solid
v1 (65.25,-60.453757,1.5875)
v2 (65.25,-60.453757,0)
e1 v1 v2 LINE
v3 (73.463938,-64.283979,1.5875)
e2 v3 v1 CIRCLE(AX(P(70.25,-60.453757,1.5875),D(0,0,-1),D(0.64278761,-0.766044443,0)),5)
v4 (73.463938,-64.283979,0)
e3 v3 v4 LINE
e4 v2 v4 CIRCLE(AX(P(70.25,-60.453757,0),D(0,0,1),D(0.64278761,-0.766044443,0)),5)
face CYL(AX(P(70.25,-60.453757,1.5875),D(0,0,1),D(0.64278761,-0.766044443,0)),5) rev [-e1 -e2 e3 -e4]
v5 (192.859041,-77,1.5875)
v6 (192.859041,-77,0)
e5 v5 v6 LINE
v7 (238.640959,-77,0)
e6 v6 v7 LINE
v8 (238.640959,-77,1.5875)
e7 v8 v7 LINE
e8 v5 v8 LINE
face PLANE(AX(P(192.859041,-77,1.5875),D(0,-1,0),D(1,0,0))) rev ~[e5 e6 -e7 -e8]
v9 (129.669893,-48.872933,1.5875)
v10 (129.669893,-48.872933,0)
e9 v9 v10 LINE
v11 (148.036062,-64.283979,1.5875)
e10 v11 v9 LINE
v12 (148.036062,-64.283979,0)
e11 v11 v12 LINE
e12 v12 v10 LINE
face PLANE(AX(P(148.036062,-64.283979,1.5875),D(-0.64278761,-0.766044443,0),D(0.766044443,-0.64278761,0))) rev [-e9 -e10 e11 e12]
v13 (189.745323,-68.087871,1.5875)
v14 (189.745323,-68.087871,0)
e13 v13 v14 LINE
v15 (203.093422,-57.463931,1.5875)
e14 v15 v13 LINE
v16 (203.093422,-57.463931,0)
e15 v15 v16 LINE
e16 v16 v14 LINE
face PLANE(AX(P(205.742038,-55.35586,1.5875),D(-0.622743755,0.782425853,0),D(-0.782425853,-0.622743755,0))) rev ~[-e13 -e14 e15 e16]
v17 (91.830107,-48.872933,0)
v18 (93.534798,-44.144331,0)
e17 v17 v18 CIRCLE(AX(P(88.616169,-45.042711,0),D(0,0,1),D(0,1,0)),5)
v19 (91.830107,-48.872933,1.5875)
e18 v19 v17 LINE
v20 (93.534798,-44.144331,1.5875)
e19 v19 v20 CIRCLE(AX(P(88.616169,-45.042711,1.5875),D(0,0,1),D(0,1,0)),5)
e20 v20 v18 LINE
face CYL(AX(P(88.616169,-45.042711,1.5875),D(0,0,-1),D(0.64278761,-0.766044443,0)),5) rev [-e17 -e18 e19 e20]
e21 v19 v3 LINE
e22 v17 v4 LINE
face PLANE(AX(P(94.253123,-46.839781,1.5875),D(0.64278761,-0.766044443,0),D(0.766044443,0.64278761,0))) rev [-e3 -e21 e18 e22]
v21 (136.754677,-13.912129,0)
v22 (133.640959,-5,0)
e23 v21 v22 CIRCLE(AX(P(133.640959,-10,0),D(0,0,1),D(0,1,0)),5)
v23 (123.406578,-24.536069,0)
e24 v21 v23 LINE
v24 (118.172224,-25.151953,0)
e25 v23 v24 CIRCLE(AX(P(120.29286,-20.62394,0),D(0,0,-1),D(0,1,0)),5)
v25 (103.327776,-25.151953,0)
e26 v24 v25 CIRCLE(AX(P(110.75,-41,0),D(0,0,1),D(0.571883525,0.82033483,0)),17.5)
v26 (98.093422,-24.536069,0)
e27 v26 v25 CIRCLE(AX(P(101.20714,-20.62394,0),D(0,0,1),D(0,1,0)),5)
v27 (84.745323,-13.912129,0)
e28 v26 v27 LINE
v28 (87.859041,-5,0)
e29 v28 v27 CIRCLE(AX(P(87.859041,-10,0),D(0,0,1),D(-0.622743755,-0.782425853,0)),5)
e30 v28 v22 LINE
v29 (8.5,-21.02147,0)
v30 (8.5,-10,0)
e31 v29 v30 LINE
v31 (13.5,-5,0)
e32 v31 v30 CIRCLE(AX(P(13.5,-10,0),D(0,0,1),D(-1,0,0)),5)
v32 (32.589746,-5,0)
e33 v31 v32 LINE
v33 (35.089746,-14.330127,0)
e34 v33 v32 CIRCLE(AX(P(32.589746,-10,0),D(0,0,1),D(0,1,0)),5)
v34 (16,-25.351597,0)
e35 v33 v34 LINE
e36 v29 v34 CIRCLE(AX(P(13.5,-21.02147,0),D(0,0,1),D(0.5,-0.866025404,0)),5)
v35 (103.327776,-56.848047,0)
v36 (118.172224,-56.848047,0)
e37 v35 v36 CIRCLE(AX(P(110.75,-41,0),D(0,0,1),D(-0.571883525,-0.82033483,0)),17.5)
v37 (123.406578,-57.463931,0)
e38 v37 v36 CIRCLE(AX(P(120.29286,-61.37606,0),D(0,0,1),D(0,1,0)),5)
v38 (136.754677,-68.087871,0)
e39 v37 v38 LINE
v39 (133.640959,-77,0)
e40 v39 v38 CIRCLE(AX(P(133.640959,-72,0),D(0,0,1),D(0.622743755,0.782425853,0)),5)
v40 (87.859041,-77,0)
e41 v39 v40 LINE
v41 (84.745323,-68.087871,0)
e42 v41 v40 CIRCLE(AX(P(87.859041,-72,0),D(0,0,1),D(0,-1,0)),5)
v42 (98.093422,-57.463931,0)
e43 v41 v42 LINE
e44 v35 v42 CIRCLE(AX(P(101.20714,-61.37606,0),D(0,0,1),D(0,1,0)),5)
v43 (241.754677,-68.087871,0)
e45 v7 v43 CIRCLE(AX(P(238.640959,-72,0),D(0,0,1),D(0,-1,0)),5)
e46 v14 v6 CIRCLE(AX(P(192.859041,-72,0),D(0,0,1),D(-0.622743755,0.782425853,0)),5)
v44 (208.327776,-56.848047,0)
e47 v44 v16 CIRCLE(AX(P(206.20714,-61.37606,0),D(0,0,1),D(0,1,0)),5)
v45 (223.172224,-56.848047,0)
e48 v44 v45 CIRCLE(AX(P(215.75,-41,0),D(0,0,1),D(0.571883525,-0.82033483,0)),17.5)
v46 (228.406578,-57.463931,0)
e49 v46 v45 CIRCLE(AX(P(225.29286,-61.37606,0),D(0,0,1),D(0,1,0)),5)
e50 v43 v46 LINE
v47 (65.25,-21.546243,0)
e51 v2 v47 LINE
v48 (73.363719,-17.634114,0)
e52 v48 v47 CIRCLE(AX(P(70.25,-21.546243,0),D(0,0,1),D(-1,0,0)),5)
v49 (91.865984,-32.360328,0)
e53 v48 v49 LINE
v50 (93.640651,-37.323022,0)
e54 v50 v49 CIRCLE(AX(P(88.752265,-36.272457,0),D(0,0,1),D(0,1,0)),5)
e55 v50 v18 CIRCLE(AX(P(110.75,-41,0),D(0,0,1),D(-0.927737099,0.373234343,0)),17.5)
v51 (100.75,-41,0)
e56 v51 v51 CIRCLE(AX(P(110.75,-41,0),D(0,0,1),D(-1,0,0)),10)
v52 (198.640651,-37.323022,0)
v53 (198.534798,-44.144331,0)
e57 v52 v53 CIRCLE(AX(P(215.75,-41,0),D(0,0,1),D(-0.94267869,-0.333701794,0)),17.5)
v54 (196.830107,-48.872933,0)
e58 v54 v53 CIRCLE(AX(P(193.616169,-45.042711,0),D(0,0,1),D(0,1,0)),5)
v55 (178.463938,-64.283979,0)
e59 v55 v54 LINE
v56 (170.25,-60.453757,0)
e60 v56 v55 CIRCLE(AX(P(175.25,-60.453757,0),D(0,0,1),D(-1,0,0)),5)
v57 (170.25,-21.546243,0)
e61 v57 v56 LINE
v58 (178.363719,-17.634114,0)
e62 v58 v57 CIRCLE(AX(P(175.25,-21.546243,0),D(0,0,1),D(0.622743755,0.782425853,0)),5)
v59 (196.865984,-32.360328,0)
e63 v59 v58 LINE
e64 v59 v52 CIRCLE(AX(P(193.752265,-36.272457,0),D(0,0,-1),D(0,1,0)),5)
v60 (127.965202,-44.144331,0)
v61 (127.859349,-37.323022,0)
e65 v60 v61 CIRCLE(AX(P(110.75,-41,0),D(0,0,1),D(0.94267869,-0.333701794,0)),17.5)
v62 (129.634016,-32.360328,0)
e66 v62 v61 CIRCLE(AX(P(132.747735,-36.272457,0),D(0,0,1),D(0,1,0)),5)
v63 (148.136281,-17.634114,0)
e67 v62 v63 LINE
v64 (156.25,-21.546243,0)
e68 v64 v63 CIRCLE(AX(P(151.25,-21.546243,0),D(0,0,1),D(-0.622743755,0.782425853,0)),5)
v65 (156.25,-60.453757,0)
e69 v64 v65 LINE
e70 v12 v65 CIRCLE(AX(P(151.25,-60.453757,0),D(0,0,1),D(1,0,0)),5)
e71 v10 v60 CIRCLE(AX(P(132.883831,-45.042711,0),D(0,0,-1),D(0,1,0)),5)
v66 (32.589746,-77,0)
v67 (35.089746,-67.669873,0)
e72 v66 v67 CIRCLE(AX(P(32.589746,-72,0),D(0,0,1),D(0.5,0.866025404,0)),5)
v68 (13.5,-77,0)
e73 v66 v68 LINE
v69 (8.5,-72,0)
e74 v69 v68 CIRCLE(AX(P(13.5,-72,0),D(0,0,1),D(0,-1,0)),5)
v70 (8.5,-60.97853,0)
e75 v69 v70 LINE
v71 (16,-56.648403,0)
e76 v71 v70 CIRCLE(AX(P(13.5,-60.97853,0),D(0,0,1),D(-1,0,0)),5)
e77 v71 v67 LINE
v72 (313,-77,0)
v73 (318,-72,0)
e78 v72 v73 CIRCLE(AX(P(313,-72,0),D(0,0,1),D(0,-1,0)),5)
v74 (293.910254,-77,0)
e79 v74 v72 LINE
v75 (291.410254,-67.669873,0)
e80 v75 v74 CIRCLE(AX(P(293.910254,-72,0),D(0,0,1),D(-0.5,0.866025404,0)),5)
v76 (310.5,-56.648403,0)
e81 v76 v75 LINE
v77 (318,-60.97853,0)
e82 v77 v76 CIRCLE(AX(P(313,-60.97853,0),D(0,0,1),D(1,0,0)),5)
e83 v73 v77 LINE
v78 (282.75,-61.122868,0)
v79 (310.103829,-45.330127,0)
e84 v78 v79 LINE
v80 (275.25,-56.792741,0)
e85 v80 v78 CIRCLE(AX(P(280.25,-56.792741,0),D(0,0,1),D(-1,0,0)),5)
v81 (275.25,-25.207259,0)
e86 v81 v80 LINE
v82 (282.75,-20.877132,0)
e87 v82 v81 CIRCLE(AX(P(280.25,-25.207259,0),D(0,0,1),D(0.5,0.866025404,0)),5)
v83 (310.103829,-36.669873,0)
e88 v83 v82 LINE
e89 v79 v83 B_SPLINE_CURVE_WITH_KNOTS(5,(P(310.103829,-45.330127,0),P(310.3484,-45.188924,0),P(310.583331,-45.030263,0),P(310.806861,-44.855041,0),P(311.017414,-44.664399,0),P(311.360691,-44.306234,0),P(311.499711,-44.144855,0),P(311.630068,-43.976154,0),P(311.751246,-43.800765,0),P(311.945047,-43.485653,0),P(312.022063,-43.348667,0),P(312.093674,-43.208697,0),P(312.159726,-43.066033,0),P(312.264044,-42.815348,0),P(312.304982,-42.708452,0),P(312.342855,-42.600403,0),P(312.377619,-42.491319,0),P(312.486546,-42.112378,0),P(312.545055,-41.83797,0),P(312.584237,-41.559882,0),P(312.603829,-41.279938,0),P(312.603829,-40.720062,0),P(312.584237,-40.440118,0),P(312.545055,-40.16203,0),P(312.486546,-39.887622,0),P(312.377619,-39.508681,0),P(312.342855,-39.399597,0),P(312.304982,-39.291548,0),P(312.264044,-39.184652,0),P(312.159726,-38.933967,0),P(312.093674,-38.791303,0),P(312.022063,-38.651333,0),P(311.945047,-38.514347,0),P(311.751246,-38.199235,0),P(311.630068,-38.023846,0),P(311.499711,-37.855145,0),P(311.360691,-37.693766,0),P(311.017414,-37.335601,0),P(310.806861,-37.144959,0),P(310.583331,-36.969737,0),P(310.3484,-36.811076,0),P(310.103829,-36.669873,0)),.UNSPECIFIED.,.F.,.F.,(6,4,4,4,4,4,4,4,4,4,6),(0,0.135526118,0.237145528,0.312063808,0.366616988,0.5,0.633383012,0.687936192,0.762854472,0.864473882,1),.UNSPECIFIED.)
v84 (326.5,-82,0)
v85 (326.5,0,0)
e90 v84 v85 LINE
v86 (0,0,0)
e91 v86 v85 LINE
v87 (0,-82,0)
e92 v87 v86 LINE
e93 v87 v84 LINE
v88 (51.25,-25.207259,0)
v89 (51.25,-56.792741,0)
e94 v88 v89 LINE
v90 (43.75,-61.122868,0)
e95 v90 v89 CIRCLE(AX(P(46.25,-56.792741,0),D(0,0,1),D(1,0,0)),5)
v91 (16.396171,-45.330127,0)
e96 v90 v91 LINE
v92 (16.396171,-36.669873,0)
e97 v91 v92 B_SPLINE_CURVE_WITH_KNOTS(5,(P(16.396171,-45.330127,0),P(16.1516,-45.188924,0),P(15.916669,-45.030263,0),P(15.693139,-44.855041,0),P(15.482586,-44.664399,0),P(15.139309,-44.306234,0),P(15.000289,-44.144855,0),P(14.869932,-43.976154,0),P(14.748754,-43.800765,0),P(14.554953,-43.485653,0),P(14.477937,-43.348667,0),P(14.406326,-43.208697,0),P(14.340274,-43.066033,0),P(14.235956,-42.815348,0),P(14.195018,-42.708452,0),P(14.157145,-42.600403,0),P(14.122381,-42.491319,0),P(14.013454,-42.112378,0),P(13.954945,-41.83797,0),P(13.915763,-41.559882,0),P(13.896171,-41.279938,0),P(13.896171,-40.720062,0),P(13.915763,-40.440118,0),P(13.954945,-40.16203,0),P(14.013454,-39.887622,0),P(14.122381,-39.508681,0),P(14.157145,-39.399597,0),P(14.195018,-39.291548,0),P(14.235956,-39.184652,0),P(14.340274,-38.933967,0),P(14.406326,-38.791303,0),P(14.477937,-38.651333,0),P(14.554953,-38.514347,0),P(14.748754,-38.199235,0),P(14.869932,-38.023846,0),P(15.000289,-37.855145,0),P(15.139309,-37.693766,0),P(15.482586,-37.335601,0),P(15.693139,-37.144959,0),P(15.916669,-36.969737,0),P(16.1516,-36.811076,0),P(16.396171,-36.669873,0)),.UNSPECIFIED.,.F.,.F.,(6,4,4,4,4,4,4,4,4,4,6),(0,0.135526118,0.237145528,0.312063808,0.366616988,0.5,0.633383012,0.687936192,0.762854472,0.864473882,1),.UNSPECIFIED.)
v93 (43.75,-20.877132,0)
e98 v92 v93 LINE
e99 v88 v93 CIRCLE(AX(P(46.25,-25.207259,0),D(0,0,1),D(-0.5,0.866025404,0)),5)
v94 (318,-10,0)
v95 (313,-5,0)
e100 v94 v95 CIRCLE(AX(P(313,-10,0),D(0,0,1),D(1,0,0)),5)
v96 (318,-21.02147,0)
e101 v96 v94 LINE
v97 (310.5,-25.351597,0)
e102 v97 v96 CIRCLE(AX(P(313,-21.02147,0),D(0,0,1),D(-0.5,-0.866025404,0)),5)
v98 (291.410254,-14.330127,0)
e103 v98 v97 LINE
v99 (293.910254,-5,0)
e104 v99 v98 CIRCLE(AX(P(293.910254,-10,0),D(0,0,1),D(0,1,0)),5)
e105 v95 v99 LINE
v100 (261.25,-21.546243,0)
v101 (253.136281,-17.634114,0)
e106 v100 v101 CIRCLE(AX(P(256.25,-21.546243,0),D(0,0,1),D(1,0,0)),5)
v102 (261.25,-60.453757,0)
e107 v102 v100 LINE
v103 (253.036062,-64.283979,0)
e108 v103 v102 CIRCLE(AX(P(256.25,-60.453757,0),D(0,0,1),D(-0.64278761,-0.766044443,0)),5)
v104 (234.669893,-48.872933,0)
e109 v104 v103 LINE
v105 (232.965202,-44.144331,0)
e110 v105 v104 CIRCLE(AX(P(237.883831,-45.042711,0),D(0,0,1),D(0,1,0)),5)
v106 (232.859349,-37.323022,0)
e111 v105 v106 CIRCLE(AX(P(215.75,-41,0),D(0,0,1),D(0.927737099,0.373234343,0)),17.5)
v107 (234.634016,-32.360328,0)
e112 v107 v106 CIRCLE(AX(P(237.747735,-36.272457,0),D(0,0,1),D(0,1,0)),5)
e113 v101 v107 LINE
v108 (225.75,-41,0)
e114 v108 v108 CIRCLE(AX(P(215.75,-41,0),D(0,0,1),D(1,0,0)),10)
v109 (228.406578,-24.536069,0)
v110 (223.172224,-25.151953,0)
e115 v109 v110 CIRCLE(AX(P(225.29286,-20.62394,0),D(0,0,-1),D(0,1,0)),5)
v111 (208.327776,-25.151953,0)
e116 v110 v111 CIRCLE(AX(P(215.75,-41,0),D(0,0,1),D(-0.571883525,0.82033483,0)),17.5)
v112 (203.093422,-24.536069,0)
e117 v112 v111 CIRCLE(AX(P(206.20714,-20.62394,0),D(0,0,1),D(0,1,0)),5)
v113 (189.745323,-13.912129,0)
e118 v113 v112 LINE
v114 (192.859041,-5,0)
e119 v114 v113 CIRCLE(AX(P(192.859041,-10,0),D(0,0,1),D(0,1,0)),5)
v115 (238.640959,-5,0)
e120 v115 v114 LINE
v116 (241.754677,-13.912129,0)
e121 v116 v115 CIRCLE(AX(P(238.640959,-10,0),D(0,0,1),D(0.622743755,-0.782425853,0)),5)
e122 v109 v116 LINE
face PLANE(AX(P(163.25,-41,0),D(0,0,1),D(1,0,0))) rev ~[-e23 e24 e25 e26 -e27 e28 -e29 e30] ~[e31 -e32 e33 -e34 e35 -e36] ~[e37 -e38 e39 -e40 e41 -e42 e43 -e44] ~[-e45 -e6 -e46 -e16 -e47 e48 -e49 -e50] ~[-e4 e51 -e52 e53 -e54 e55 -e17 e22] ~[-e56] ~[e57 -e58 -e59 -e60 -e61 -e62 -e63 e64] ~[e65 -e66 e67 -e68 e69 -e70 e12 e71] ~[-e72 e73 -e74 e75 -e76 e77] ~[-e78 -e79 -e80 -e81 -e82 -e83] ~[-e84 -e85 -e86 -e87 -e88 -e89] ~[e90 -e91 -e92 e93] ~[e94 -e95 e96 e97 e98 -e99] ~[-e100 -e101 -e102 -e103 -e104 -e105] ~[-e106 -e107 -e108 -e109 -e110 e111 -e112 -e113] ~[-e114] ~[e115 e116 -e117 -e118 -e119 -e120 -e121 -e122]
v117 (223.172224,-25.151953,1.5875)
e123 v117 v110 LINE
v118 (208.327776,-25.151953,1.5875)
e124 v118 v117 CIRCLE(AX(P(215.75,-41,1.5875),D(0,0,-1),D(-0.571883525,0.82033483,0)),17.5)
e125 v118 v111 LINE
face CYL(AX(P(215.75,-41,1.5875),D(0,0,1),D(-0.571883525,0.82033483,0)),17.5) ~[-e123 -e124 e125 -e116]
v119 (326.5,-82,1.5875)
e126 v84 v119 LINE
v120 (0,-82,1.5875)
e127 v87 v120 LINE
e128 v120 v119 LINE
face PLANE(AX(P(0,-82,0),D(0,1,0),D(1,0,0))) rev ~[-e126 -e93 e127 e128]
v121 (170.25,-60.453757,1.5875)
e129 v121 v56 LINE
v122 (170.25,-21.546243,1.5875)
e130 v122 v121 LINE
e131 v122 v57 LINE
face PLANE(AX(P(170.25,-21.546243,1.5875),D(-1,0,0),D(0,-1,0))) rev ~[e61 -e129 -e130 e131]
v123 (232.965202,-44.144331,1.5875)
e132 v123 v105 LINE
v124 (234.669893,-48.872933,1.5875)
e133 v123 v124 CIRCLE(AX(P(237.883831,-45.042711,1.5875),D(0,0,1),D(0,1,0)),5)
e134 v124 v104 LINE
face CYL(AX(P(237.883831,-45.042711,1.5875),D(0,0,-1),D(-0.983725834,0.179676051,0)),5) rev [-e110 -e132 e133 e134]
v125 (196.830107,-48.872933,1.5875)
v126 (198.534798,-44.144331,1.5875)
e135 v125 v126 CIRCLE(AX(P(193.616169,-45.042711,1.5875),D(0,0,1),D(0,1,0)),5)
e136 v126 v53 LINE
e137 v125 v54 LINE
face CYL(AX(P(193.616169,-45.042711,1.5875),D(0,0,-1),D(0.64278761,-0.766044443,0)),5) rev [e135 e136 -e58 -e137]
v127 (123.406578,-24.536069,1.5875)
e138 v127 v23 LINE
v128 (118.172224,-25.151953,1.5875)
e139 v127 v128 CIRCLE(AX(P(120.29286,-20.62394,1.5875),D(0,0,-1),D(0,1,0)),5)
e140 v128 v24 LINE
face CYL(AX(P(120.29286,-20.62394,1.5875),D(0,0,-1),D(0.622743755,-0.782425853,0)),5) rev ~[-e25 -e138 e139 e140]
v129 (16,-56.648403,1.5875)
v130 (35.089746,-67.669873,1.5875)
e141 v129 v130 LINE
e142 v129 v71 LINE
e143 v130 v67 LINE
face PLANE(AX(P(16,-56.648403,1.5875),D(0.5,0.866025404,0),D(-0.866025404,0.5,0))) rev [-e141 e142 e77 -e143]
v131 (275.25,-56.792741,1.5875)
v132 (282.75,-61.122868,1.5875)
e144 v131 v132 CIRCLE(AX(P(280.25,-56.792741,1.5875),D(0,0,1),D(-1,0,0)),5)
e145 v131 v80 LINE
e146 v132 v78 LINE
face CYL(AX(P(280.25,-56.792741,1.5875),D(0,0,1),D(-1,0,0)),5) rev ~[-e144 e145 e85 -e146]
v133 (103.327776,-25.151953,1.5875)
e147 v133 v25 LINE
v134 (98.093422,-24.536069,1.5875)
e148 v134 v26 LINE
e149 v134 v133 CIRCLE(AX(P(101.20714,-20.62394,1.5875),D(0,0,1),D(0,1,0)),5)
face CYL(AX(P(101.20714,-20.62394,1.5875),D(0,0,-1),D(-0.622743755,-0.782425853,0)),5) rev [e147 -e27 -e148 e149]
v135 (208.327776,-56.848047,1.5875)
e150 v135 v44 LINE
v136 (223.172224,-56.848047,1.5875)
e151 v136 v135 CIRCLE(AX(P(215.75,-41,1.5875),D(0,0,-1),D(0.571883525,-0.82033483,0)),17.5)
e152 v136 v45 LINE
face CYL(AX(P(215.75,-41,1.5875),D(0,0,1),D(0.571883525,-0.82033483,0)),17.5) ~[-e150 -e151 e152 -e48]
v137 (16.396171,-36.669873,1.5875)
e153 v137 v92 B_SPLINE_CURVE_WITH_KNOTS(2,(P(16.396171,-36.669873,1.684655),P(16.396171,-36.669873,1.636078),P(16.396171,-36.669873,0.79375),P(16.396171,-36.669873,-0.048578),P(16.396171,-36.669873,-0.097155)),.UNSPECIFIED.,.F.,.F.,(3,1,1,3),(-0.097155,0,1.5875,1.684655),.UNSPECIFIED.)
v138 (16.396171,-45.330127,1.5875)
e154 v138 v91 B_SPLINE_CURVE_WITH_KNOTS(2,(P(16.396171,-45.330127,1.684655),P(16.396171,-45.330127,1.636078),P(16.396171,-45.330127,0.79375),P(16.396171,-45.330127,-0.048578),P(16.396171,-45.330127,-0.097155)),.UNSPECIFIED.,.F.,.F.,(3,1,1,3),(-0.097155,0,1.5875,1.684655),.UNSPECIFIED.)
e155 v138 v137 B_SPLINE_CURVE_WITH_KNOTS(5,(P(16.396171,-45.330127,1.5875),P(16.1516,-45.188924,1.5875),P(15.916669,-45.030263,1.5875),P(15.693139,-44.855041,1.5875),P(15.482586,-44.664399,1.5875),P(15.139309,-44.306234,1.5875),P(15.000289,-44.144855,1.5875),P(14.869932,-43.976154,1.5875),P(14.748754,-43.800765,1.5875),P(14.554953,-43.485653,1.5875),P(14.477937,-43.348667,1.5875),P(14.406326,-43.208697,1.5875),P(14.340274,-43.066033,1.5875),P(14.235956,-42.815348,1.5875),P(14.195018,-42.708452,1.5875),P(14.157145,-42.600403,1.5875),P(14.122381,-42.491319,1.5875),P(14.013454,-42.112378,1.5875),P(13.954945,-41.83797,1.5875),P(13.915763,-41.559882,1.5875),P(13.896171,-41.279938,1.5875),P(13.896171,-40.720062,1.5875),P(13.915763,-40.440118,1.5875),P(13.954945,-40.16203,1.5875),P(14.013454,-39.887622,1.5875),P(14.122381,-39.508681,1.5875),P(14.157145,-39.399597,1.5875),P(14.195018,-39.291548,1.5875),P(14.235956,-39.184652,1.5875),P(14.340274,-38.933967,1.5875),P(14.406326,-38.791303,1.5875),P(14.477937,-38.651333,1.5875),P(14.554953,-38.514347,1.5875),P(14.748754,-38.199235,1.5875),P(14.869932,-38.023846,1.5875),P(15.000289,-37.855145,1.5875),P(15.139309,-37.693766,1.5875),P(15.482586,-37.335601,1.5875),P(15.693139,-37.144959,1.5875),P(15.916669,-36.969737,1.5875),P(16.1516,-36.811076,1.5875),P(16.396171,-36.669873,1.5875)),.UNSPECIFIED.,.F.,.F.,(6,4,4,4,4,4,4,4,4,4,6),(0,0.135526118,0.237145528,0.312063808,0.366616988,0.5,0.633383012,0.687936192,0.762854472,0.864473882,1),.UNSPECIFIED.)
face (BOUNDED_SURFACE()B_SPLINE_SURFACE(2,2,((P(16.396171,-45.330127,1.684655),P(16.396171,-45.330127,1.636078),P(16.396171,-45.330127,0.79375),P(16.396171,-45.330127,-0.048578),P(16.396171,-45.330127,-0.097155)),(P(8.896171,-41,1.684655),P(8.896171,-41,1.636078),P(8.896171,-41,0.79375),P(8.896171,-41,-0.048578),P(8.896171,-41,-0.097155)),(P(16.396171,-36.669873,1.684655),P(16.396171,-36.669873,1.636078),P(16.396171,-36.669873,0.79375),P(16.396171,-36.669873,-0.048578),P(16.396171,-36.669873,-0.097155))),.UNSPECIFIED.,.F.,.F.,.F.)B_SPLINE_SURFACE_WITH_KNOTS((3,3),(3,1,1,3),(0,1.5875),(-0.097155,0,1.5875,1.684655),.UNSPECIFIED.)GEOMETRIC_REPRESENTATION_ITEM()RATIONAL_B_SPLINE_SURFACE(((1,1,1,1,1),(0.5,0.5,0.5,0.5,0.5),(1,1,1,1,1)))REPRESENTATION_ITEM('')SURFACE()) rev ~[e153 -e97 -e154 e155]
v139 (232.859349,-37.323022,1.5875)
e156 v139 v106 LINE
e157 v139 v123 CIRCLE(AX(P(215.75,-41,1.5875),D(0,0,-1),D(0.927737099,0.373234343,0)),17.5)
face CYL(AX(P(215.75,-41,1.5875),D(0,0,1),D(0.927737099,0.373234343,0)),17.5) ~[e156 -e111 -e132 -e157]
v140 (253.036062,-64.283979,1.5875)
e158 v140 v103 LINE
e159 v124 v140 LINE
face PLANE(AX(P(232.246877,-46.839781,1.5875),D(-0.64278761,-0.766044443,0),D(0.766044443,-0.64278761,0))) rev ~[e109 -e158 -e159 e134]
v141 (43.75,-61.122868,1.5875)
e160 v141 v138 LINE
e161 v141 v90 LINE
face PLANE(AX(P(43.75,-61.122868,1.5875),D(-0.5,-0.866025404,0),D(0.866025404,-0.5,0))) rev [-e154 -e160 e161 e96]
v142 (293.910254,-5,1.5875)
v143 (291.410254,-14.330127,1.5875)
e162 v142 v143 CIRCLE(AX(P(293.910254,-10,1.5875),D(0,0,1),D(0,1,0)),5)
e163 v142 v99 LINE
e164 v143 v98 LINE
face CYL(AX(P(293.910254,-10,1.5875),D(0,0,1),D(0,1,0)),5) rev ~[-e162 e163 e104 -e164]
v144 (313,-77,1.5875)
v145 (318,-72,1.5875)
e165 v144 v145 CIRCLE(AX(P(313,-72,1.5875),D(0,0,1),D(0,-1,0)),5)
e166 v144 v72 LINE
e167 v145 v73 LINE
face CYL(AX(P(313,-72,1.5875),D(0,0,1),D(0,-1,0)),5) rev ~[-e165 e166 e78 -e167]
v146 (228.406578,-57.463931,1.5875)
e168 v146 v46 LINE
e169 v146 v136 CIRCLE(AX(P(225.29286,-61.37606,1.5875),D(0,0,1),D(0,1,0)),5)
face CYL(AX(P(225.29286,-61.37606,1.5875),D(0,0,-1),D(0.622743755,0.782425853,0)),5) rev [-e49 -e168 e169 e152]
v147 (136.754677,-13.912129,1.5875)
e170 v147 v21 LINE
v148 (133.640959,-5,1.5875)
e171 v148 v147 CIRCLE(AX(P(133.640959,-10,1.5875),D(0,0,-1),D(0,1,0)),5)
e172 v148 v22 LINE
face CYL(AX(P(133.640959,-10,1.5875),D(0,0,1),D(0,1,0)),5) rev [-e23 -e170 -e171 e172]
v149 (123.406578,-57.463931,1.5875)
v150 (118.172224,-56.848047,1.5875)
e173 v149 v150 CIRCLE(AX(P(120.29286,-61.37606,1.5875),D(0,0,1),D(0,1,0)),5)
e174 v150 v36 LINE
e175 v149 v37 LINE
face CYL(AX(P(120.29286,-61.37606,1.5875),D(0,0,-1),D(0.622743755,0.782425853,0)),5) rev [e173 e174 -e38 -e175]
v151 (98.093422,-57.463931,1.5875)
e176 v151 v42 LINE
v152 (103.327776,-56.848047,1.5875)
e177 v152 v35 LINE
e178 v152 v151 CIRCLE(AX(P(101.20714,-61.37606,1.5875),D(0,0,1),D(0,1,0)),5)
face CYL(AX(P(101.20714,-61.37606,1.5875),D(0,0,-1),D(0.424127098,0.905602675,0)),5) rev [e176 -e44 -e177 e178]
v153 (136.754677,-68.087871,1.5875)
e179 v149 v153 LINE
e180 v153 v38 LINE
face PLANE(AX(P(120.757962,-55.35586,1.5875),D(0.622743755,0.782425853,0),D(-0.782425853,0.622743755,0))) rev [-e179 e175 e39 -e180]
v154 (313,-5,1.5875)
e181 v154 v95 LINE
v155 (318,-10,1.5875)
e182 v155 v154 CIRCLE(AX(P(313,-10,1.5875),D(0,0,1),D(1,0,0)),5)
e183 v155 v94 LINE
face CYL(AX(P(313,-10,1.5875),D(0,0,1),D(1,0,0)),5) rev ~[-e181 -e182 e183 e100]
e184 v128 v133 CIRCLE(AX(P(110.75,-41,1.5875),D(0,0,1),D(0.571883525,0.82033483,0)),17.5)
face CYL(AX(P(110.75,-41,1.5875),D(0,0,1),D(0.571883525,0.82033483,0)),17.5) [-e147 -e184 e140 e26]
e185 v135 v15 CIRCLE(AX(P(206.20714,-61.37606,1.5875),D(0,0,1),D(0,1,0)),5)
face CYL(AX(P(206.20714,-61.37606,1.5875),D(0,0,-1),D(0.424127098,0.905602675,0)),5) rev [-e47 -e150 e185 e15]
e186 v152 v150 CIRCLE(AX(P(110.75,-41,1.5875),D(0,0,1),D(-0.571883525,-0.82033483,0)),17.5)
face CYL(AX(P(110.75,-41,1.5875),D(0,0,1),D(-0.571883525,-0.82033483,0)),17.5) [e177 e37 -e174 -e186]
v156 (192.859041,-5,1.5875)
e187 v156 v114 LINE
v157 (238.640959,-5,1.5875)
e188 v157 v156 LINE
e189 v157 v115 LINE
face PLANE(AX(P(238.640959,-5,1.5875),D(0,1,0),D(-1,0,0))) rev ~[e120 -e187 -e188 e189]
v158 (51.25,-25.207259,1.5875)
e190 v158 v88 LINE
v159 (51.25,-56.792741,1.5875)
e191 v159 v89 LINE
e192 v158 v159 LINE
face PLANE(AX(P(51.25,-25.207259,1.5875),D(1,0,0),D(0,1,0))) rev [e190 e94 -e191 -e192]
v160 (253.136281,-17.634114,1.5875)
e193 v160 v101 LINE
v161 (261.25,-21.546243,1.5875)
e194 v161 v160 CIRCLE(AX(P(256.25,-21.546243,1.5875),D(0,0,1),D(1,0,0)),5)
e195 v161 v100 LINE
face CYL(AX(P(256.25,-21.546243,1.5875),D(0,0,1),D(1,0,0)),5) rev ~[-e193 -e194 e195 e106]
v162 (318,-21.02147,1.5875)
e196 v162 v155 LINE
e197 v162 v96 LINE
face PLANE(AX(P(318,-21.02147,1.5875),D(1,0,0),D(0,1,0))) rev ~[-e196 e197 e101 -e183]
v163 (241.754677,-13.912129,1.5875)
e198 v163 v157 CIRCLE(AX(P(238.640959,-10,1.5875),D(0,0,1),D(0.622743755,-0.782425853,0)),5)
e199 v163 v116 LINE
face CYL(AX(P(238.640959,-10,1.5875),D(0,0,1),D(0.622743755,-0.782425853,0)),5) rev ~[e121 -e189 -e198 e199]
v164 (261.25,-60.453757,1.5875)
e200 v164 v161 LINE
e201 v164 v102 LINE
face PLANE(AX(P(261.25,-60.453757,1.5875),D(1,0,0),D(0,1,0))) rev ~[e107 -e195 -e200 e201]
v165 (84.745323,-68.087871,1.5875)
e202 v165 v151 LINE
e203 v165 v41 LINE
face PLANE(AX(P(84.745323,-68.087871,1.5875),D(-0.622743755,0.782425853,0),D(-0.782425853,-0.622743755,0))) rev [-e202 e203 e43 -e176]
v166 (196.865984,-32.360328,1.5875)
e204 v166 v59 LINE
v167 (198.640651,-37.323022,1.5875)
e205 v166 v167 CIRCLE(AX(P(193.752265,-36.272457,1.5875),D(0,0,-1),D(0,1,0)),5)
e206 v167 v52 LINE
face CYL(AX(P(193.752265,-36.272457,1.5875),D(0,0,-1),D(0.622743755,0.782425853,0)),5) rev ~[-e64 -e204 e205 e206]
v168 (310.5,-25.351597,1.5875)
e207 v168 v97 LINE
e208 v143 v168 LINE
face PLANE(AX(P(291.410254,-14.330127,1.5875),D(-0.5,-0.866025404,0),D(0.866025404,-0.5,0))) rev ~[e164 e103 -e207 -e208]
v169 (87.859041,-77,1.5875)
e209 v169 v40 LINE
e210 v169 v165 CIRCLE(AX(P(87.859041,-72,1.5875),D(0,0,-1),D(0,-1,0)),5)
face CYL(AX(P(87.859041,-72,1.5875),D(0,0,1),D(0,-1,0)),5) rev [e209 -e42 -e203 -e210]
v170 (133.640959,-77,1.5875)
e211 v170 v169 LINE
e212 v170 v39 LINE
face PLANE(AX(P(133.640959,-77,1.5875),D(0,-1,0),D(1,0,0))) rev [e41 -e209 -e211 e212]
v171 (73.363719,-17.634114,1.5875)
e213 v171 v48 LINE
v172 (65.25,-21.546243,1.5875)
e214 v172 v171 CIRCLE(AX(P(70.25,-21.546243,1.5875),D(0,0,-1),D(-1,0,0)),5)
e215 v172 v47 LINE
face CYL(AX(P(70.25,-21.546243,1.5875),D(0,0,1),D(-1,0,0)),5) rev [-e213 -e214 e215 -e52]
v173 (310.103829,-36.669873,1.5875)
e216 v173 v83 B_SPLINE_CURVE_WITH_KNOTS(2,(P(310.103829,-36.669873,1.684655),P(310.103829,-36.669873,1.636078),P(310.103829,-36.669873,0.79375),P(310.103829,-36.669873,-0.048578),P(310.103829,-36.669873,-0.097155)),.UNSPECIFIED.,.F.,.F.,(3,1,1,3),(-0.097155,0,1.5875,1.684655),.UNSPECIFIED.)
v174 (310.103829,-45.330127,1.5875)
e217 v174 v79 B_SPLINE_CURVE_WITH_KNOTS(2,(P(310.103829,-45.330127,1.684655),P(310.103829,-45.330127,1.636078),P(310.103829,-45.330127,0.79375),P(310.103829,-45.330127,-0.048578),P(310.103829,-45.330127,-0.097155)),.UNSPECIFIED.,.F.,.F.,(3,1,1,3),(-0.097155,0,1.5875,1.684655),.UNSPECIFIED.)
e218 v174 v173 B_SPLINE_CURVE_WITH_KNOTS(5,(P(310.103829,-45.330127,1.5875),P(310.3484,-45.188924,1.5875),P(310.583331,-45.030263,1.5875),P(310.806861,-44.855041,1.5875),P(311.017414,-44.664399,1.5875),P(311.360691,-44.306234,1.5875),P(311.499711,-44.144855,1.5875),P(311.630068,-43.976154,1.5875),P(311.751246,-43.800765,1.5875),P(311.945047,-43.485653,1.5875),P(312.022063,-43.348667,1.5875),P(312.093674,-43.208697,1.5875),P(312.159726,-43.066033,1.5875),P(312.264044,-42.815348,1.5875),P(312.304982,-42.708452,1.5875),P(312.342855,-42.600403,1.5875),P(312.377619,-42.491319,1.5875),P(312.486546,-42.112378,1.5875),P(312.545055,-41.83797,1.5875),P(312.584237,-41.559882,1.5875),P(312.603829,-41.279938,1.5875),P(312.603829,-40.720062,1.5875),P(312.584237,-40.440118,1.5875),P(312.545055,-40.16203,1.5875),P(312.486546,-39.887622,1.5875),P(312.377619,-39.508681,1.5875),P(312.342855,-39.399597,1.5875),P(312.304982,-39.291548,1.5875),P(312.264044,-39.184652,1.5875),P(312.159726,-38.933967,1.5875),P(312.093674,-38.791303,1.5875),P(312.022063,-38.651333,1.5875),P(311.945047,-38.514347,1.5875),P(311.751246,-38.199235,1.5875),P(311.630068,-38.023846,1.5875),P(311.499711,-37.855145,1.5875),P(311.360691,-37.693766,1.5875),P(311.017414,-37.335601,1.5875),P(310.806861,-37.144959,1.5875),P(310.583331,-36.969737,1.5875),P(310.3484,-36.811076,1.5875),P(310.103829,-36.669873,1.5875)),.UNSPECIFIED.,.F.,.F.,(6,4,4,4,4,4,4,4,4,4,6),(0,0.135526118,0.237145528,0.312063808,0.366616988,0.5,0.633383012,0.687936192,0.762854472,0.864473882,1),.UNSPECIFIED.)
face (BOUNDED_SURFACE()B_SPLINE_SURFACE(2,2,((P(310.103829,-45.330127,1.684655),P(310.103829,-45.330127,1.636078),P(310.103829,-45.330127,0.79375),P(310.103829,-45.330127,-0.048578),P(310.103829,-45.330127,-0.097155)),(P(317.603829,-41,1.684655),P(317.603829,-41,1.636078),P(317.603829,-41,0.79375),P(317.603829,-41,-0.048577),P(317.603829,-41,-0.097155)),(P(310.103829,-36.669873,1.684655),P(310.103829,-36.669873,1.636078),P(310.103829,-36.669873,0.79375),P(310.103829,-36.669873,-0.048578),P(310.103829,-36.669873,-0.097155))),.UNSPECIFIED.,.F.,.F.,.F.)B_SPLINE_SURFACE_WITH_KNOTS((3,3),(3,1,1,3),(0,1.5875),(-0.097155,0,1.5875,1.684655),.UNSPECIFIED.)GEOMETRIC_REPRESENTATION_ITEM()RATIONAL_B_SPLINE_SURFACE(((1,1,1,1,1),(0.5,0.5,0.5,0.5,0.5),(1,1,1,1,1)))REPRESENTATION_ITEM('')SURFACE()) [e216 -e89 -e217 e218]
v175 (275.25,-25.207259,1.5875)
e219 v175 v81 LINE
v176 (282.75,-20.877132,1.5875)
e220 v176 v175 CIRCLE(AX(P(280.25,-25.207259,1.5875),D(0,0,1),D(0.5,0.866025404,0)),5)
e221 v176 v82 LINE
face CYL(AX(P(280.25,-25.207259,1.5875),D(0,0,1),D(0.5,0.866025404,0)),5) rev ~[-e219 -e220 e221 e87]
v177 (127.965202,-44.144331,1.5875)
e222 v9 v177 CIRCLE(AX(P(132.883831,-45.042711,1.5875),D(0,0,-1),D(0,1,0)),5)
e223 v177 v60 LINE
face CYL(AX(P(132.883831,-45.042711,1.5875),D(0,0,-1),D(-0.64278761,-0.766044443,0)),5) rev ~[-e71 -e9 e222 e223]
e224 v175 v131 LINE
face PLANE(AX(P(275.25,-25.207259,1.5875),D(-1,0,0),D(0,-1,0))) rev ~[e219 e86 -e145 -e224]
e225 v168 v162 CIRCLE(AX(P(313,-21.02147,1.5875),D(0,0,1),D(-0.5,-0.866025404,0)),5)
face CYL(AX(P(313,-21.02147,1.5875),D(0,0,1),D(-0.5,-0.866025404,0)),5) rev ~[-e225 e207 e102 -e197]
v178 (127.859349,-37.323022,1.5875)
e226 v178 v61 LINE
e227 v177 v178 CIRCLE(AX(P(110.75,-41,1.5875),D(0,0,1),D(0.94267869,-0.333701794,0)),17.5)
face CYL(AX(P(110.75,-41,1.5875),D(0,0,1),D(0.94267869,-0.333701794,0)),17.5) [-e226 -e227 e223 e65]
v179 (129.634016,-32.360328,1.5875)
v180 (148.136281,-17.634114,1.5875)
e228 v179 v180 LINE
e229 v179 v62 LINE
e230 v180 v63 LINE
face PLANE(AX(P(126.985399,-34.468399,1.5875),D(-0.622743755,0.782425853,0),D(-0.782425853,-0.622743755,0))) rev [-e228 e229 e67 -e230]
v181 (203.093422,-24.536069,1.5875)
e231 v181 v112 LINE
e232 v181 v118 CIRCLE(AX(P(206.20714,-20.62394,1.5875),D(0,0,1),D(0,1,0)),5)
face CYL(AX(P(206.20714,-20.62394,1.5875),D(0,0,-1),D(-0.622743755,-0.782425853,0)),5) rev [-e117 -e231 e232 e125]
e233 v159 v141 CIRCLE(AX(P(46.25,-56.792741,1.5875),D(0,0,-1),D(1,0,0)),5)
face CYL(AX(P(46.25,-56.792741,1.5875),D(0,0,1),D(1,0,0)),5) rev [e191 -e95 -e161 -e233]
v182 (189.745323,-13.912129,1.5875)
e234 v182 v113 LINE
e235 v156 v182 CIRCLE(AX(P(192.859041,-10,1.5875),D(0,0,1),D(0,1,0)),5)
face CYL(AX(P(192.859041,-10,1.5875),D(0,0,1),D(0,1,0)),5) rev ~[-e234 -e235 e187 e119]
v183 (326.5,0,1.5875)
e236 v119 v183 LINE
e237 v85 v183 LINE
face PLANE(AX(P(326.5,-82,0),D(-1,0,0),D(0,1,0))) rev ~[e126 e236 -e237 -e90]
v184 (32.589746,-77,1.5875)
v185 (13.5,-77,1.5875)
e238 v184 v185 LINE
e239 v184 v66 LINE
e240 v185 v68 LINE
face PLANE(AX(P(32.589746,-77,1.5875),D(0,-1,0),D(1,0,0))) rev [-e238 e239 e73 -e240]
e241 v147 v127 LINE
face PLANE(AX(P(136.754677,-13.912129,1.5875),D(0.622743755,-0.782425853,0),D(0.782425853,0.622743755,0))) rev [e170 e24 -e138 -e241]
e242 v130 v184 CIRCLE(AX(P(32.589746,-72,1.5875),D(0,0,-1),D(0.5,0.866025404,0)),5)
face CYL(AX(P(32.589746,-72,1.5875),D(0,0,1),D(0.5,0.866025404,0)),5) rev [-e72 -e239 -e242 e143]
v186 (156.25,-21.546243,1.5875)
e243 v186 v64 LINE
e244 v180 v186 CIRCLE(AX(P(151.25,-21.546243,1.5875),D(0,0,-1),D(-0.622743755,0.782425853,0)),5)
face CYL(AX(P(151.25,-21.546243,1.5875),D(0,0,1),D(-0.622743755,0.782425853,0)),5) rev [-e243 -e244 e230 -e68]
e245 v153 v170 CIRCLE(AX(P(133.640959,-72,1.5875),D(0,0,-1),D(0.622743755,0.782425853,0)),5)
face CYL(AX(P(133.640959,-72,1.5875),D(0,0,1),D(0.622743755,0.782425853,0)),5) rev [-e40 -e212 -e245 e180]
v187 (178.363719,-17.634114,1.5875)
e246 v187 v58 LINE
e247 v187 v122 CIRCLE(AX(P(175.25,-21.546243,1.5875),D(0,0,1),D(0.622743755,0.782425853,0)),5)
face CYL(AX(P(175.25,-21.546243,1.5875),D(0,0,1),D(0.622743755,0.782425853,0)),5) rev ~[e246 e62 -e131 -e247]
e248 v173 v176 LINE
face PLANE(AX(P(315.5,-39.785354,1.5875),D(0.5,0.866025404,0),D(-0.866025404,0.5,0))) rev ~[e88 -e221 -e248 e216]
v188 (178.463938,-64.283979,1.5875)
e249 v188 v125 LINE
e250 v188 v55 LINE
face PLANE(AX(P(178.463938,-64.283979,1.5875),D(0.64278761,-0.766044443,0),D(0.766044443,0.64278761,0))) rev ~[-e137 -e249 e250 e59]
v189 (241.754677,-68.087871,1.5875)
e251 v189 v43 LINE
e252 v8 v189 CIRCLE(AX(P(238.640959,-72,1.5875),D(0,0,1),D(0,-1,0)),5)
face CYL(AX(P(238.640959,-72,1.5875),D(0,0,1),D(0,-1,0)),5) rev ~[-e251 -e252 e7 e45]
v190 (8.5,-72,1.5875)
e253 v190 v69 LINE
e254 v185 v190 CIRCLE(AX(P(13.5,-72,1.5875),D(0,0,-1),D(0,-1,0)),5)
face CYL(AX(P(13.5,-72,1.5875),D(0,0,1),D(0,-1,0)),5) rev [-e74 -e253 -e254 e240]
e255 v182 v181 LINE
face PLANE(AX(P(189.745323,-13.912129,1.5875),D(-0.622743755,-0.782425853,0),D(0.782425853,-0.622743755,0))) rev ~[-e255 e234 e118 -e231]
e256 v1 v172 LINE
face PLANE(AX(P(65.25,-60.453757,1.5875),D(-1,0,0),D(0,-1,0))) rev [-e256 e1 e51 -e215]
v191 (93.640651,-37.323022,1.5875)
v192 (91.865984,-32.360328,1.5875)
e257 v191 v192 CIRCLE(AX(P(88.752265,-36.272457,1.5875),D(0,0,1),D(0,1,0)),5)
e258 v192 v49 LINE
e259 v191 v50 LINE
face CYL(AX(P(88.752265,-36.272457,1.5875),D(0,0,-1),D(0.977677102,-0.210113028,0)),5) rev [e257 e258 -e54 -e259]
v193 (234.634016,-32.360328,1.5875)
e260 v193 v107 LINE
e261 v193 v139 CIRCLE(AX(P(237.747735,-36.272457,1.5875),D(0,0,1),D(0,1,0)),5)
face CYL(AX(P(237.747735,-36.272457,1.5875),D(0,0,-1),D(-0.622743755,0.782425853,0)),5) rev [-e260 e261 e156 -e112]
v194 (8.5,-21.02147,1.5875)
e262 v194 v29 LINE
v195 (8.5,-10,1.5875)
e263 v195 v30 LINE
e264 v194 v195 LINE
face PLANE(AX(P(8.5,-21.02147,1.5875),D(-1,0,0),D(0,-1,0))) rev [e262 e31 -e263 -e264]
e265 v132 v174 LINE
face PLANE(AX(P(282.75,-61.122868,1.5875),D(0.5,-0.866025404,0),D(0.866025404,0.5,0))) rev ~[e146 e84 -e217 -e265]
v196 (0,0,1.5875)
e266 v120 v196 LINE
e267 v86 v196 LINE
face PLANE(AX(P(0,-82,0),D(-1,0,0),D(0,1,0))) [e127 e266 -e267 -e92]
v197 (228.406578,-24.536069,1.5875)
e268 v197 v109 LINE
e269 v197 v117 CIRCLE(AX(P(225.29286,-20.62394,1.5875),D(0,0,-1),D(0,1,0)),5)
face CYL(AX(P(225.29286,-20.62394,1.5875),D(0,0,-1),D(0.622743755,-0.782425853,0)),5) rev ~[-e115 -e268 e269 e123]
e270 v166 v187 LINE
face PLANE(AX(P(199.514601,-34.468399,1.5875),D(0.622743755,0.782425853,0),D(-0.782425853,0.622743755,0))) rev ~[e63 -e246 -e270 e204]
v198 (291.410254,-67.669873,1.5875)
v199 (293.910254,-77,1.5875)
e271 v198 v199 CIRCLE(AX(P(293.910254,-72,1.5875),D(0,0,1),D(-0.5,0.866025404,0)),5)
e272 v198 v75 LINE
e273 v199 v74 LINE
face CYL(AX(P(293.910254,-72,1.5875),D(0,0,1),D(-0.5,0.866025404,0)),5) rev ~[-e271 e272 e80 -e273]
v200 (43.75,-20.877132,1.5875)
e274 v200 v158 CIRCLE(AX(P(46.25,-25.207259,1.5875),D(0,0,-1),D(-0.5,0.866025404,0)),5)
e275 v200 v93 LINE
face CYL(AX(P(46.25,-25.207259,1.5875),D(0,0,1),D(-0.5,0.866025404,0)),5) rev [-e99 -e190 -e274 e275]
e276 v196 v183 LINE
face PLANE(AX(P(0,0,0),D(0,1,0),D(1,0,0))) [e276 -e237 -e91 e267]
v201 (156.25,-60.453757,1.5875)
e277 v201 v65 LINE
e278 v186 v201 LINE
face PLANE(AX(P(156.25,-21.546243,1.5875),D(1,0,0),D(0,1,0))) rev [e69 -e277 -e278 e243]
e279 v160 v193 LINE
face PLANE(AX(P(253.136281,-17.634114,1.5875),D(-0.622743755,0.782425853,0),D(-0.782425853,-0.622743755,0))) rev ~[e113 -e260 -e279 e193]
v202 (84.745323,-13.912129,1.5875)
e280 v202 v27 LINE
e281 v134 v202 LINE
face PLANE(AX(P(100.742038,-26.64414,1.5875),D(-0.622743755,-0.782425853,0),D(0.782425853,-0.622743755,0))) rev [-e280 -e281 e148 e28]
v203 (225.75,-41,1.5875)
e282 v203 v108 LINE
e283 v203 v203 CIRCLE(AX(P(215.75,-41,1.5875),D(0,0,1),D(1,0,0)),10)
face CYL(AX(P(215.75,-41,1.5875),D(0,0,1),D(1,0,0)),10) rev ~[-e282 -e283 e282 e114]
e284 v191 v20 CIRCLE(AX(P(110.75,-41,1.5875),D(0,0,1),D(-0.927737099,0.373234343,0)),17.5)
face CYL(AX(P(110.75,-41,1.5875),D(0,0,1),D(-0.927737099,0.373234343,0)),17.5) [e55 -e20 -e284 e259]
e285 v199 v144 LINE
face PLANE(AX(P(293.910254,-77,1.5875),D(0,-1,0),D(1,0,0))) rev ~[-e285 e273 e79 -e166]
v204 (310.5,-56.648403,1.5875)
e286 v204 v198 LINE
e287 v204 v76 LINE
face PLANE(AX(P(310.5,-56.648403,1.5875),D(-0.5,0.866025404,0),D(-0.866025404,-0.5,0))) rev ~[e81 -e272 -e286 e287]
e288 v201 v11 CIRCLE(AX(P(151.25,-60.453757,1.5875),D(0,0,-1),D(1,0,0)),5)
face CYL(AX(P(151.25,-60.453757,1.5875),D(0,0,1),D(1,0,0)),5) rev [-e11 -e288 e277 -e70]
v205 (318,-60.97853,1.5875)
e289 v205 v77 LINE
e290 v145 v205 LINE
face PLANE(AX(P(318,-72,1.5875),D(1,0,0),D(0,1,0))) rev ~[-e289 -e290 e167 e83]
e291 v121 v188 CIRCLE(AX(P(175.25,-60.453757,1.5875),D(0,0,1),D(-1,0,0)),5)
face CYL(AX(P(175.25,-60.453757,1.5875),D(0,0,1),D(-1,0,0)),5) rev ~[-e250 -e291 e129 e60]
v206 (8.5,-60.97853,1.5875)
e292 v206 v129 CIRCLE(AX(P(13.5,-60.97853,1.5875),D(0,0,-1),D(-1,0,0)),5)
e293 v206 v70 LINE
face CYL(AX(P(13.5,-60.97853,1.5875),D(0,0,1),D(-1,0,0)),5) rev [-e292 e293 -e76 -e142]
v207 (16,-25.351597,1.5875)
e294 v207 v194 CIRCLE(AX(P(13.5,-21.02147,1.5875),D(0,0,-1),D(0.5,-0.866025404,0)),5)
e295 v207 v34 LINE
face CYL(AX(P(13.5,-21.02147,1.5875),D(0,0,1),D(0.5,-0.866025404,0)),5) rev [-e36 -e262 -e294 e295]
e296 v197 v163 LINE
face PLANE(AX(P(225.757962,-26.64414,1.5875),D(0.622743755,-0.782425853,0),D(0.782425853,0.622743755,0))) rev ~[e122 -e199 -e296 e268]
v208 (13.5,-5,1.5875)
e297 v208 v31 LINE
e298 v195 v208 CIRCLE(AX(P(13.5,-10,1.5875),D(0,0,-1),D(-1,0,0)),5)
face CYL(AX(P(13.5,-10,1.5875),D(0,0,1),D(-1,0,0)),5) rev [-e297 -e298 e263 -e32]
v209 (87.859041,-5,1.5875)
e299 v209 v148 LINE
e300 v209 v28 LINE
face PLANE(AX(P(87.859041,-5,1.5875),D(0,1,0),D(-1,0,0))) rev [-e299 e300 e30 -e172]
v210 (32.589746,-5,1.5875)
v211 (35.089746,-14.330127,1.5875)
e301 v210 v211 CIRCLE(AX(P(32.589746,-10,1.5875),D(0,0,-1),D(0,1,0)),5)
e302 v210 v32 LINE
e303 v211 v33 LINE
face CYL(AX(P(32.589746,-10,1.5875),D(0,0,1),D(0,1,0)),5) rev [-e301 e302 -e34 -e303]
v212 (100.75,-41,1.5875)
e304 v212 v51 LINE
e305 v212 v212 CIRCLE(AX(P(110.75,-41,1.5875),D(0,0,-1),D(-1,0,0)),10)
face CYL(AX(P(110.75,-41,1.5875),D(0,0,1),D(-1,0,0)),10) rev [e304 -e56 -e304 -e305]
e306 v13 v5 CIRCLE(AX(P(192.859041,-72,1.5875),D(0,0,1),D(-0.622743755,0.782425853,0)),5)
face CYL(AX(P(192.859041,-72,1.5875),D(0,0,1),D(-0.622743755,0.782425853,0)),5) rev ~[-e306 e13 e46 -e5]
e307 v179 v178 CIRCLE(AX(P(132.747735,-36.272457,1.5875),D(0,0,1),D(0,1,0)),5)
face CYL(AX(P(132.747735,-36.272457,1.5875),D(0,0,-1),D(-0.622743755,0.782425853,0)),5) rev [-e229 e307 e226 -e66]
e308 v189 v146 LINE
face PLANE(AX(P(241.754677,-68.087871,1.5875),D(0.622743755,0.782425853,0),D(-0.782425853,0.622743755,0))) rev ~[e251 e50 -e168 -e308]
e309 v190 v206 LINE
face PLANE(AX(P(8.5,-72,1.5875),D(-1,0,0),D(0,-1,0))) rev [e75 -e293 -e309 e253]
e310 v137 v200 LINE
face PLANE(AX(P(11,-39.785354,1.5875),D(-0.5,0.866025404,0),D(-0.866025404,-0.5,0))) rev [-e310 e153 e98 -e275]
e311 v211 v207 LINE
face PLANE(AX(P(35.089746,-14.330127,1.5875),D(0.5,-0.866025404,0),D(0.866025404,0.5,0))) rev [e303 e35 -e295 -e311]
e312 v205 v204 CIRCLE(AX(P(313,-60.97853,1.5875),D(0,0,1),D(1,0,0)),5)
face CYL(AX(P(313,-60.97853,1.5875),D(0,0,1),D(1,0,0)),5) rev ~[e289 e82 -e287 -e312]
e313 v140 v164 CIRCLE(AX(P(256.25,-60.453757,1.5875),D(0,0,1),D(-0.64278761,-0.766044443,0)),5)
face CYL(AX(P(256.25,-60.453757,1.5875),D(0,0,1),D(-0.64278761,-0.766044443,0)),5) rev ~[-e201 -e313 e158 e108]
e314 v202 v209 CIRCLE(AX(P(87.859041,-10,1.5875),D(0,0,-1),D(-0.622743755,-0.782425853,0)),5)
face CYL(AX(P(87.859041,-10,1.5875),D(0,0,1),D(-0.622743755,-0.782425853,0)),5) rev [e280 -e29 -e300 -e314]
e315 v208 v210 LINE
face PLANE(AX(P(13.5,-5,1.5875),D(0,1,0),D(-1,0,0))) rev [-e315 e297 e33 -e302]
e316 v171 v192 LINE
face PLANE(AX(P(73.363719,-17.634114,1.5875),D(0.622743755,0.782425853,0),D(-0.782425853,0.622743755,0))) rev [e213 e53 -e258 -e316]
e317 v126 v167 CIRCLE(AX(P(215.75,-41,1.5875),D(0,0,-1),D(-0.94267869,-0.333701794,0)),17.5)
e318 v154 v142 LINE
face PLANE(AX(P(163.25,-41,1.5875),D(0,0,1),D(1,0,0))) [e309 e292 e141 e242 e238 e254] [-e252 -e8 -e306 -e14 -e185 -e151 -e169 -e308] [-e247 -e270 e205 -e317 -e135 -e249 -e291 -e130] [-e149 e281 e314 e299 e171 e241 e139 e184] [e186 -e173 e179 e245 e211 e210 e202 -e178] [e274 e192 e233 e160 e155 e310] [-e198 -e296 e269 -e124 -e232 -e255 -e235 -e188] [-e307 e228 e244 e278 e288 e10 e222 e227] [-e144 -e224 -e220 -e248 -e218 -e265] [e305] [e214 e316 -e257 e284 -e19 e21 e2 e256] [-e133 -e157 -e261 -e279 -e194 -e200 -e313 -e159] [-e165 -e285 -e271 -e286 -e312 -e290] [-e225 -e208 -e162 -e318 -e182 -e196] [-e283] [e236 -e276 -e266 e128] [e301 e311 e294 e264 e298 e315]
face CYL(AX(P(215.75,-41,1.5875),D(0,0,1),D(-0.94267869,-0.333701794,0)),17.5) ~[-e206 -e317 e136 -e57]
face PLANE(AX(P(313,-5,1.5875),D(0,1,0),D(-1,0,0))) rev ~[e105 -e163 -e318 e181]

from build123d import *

# Parameters (mm, degrees)
SKETCH1_W            = 326.5
SKETCH1_H            = 82
BOSS_EXTRUDE1_DEPTH  = 1.5875
SKETCH2_R            = 10
CUT_EXTRUDE1_DEPTH   = 337.643387216
FILLET1_R            = 5
FILLET2_R            = 5
FILLET1_OF_MIRROR1_R = 5
FILLET2_OF_MIRROR1_R = 5


with BuildPart() as part:
    # Sketch1 → Boss-Extrude1 (new body)
    with BuildSketch(Plane.XY):
        with Locations((163.25, -41)):
            Rectangle(SKETCH1_W, SKETCH1_H)
    extrude(amount=BOSS_EXTRUDE1_DEPTH)

    # Sketch2 → Cut-Extrude1 (cut, through all)
    with BuildSketch(Plane.XY.offset(1.5875)):
        with BuildLine():
            Line((261.25, -60.453756551), (261.25, -21.546243449))
            ThreePointArc((261.25, -21.546243449), (258.421566961, -17.042434291), (253.136281226, -17.634114183))
            Line((253.136281226, -17.634114183), (231.985399239, -34.468399005))
            ThreePointArc((231.985399239, -34.468399005), (233.246092528, -40.630207826), (232.246877073, -46.839781402))
            Line((232.246877073, -46.839781402), (253.036061952, -64.283978766))
            ThreePointArc((253.036061952, -64.283978766), (258.363091309, -64.985295486), (261.25, -60.453756551))
        make_face()
        with BuildLine():
            ThreePointArc((205.742038309, -26.644140472), (215.75, -23.5), (225.757961691, -26.644140472))
            Line((225.757961691, -26.644140472), (241.754677282, -13.912129266))
            ThreePointArc((241.754677282, -13.912129266), (243.361162229, -8.350855727), (238.640958508, -5))
            Line((238.640958508, -5), (192.859041492, -5))
            ThreePointArc((192.859041492, -5), (188.138837771, -8.350855727), (189.745322718, -13.912129266))
            Line((189.745322718, -13.912129266), (205.742038309, -26.644140472))
        make_face()
        with BuildLine():
            Line((241.754677282, -68.087870734), (225.757961691, -55.355859528))
            ThreePointArc((225.757961691, -55.355859528), (215.75, -58.5), (205.742038309, -55.355859528))
            Line((205.742038309, -55.355859528), (189.745322718, -68.087870734))
            ThreePointArc((189.745322718, -68.087870734), (188.138837771, -73.649144273), (192.859041492, -77))
            Line((192.859041492, -77), (238.640958508, -77))
            ThreePointArc((238.640958508, -77), (243.361162229, -73.649144273), (241.754677282, -68.087870734))
        make_face()
        with BuildLine():
            ThreePointArc((199.253122927, -46.839781402), (198.253907472, -40.630207826), (199.514600761, -34.468399005))
            Line((199.514600761, -34.468399005), (178.363718774, -17.634114183))
            ThreePointArc((178.363718774, -17.634114183), (173.078433039, -17.042434291), (170.25, -21.546243449))
            Line((170.25, -21.546243449), (170.25, -60.453756551))
            ThreePointArc((170.25, -60.453756551), (173.136908691, -64.985295486), (178.463938048, -64.283978766))
            Line((178.463938048, -64.283978766), (199.253122927, -46.839781402))
        make_face()
        with BuildLine():
            Line((313, -5), (293.910254038, -5))
            ThreePointArc((293.910254038, -5), (289.080624906, -8.705904774), (291.410254038, -14.330127019))
            Line((291.410254038, -14.330127019), (310.5, -25.351596989))
            ThreePointArc((310.5, -25.351596989), (315.5, -25.351596989), (318, -21.02146997))
            Line((318, -21.02146997), (318, -10))
            ThreePointArc((318, -10), (316.535533906, -6.464466094), (313, -5))
        make_face()
        with BuildLine():
            ThreePointArc((315.5, -42.214646281), (316.262390864, -41.673556851), (316.910726246, -41))
            ThreePointArc((316.910726246, -41), (316.262390864, -40.326443149), (315.5, -39.785353719))
            Line((315.5, -39.785353719), (282.75, -20.877132403))
            ThreePointArc((282.75, -20.877132403), (277.75, -20.877132403), (275.25, -25.207259422))
            Line((275.25, -25.207259422), (275.25, -56.792740578))
            ThreePointArc((275.25, -56.792740578), (277.75, -61.122867597), (282.75, -61.122867597))
            Line((282.75, -61.122867597), (315.5, -42.214646281))
        make_face()
        with BuildLine():
            Line((310.5, -56.648403011), (291.410254038, -67.669872981))
            ThreePointArc((291.410254038, -67.669872981), (289.080624906, -73.294095226), (293.910254038, -77))
            Line((293.910254038, -77), (313, -77))
            ThreePointArc((313, -77), (316.535533906, -75.535533906), (318, -72))
            Line((318, -72), (318, -60.97853003))
            ThreePointArc((318, -60.97853003), (315.5, -56.648403011), (310.5, -56.648403011))
        make_face()
        with Locations((215.75, -41)):
            Circle(SKETCH2_R)
    cut_extrude1 = extrude(amount=-CUT_EXTRUDE1_DEPTH, mode=Mode.SUBTRACT)

    # Fillet1
    fillet1_edges = [part.edges().sort_by_distance(p)[0] for p in [
        (232.246877073, -46.839781402, 0.79375),
        (231.985399239, -34.468399005, 0.79375),
        (205.742038309, -55.355859528, 0.79375),
        (225.757961691, -55.355859528, 0.79375),
        (199.514600761, -34.468399005, 0.79375),
        (199.253122927, -46.839781402, 0.79375),
        (225.757961691, -26.644140472, 0.79375),
        (205.742038309, -26.644140472, 0.79375),
    ]]
    fillet(fillet1_edges, radius=FILLET1_R)

    # Fillet2
    fillet2_edges = [part.edges().sort_by_distance(p)[0] for p in [
        (316.910726246, -41, 0.79375),
    ]]
    fillet(fillet2_edges, radius=FILLET2_R)

    # Mirror1: Cut-Extrude1 across plane
    add(cut_extrude1.mirror(Plane.ZY.offset(-163.25)), mode=Mode.SUBTRACT)

    # Fillet1 of Mirror1
    fillet1_of_mirror1_edges = [part.edges().sort_by_distance(p)[0] for p in [
        (94.253122927, -46.839781402, 0.79375),
        (94.514600761, -34.468399005, 0.79375),
        (120.757961691, -55.355859528, 0.79375),
        (100.742038309, -55.355859528, 0.79375),
        (126.985399239, -34.468399005, 0.79375),
        (127.246877073, -46.839781402, 0.79375),
        (100.742038309, -26.644140472, 0.79375),
        (120.757961691, -26.644140472, 0.79375),
    ]]
    fillet(fillet1_of_mirror1_edges, radius=FILLET1_OF_MIRROR1_R)

    # Fillet2 of Mirror1
    fillet2_of_mirror1_edges = [part.edges().sort_by_distance(p)[0] for p in [
        (9.589273754, -41, 0.79375),
    ]]
    fillet(fillet2_of_mirror1_edges, radius=FILLET2_OF_MIRROR1_R)


solid = part.part
